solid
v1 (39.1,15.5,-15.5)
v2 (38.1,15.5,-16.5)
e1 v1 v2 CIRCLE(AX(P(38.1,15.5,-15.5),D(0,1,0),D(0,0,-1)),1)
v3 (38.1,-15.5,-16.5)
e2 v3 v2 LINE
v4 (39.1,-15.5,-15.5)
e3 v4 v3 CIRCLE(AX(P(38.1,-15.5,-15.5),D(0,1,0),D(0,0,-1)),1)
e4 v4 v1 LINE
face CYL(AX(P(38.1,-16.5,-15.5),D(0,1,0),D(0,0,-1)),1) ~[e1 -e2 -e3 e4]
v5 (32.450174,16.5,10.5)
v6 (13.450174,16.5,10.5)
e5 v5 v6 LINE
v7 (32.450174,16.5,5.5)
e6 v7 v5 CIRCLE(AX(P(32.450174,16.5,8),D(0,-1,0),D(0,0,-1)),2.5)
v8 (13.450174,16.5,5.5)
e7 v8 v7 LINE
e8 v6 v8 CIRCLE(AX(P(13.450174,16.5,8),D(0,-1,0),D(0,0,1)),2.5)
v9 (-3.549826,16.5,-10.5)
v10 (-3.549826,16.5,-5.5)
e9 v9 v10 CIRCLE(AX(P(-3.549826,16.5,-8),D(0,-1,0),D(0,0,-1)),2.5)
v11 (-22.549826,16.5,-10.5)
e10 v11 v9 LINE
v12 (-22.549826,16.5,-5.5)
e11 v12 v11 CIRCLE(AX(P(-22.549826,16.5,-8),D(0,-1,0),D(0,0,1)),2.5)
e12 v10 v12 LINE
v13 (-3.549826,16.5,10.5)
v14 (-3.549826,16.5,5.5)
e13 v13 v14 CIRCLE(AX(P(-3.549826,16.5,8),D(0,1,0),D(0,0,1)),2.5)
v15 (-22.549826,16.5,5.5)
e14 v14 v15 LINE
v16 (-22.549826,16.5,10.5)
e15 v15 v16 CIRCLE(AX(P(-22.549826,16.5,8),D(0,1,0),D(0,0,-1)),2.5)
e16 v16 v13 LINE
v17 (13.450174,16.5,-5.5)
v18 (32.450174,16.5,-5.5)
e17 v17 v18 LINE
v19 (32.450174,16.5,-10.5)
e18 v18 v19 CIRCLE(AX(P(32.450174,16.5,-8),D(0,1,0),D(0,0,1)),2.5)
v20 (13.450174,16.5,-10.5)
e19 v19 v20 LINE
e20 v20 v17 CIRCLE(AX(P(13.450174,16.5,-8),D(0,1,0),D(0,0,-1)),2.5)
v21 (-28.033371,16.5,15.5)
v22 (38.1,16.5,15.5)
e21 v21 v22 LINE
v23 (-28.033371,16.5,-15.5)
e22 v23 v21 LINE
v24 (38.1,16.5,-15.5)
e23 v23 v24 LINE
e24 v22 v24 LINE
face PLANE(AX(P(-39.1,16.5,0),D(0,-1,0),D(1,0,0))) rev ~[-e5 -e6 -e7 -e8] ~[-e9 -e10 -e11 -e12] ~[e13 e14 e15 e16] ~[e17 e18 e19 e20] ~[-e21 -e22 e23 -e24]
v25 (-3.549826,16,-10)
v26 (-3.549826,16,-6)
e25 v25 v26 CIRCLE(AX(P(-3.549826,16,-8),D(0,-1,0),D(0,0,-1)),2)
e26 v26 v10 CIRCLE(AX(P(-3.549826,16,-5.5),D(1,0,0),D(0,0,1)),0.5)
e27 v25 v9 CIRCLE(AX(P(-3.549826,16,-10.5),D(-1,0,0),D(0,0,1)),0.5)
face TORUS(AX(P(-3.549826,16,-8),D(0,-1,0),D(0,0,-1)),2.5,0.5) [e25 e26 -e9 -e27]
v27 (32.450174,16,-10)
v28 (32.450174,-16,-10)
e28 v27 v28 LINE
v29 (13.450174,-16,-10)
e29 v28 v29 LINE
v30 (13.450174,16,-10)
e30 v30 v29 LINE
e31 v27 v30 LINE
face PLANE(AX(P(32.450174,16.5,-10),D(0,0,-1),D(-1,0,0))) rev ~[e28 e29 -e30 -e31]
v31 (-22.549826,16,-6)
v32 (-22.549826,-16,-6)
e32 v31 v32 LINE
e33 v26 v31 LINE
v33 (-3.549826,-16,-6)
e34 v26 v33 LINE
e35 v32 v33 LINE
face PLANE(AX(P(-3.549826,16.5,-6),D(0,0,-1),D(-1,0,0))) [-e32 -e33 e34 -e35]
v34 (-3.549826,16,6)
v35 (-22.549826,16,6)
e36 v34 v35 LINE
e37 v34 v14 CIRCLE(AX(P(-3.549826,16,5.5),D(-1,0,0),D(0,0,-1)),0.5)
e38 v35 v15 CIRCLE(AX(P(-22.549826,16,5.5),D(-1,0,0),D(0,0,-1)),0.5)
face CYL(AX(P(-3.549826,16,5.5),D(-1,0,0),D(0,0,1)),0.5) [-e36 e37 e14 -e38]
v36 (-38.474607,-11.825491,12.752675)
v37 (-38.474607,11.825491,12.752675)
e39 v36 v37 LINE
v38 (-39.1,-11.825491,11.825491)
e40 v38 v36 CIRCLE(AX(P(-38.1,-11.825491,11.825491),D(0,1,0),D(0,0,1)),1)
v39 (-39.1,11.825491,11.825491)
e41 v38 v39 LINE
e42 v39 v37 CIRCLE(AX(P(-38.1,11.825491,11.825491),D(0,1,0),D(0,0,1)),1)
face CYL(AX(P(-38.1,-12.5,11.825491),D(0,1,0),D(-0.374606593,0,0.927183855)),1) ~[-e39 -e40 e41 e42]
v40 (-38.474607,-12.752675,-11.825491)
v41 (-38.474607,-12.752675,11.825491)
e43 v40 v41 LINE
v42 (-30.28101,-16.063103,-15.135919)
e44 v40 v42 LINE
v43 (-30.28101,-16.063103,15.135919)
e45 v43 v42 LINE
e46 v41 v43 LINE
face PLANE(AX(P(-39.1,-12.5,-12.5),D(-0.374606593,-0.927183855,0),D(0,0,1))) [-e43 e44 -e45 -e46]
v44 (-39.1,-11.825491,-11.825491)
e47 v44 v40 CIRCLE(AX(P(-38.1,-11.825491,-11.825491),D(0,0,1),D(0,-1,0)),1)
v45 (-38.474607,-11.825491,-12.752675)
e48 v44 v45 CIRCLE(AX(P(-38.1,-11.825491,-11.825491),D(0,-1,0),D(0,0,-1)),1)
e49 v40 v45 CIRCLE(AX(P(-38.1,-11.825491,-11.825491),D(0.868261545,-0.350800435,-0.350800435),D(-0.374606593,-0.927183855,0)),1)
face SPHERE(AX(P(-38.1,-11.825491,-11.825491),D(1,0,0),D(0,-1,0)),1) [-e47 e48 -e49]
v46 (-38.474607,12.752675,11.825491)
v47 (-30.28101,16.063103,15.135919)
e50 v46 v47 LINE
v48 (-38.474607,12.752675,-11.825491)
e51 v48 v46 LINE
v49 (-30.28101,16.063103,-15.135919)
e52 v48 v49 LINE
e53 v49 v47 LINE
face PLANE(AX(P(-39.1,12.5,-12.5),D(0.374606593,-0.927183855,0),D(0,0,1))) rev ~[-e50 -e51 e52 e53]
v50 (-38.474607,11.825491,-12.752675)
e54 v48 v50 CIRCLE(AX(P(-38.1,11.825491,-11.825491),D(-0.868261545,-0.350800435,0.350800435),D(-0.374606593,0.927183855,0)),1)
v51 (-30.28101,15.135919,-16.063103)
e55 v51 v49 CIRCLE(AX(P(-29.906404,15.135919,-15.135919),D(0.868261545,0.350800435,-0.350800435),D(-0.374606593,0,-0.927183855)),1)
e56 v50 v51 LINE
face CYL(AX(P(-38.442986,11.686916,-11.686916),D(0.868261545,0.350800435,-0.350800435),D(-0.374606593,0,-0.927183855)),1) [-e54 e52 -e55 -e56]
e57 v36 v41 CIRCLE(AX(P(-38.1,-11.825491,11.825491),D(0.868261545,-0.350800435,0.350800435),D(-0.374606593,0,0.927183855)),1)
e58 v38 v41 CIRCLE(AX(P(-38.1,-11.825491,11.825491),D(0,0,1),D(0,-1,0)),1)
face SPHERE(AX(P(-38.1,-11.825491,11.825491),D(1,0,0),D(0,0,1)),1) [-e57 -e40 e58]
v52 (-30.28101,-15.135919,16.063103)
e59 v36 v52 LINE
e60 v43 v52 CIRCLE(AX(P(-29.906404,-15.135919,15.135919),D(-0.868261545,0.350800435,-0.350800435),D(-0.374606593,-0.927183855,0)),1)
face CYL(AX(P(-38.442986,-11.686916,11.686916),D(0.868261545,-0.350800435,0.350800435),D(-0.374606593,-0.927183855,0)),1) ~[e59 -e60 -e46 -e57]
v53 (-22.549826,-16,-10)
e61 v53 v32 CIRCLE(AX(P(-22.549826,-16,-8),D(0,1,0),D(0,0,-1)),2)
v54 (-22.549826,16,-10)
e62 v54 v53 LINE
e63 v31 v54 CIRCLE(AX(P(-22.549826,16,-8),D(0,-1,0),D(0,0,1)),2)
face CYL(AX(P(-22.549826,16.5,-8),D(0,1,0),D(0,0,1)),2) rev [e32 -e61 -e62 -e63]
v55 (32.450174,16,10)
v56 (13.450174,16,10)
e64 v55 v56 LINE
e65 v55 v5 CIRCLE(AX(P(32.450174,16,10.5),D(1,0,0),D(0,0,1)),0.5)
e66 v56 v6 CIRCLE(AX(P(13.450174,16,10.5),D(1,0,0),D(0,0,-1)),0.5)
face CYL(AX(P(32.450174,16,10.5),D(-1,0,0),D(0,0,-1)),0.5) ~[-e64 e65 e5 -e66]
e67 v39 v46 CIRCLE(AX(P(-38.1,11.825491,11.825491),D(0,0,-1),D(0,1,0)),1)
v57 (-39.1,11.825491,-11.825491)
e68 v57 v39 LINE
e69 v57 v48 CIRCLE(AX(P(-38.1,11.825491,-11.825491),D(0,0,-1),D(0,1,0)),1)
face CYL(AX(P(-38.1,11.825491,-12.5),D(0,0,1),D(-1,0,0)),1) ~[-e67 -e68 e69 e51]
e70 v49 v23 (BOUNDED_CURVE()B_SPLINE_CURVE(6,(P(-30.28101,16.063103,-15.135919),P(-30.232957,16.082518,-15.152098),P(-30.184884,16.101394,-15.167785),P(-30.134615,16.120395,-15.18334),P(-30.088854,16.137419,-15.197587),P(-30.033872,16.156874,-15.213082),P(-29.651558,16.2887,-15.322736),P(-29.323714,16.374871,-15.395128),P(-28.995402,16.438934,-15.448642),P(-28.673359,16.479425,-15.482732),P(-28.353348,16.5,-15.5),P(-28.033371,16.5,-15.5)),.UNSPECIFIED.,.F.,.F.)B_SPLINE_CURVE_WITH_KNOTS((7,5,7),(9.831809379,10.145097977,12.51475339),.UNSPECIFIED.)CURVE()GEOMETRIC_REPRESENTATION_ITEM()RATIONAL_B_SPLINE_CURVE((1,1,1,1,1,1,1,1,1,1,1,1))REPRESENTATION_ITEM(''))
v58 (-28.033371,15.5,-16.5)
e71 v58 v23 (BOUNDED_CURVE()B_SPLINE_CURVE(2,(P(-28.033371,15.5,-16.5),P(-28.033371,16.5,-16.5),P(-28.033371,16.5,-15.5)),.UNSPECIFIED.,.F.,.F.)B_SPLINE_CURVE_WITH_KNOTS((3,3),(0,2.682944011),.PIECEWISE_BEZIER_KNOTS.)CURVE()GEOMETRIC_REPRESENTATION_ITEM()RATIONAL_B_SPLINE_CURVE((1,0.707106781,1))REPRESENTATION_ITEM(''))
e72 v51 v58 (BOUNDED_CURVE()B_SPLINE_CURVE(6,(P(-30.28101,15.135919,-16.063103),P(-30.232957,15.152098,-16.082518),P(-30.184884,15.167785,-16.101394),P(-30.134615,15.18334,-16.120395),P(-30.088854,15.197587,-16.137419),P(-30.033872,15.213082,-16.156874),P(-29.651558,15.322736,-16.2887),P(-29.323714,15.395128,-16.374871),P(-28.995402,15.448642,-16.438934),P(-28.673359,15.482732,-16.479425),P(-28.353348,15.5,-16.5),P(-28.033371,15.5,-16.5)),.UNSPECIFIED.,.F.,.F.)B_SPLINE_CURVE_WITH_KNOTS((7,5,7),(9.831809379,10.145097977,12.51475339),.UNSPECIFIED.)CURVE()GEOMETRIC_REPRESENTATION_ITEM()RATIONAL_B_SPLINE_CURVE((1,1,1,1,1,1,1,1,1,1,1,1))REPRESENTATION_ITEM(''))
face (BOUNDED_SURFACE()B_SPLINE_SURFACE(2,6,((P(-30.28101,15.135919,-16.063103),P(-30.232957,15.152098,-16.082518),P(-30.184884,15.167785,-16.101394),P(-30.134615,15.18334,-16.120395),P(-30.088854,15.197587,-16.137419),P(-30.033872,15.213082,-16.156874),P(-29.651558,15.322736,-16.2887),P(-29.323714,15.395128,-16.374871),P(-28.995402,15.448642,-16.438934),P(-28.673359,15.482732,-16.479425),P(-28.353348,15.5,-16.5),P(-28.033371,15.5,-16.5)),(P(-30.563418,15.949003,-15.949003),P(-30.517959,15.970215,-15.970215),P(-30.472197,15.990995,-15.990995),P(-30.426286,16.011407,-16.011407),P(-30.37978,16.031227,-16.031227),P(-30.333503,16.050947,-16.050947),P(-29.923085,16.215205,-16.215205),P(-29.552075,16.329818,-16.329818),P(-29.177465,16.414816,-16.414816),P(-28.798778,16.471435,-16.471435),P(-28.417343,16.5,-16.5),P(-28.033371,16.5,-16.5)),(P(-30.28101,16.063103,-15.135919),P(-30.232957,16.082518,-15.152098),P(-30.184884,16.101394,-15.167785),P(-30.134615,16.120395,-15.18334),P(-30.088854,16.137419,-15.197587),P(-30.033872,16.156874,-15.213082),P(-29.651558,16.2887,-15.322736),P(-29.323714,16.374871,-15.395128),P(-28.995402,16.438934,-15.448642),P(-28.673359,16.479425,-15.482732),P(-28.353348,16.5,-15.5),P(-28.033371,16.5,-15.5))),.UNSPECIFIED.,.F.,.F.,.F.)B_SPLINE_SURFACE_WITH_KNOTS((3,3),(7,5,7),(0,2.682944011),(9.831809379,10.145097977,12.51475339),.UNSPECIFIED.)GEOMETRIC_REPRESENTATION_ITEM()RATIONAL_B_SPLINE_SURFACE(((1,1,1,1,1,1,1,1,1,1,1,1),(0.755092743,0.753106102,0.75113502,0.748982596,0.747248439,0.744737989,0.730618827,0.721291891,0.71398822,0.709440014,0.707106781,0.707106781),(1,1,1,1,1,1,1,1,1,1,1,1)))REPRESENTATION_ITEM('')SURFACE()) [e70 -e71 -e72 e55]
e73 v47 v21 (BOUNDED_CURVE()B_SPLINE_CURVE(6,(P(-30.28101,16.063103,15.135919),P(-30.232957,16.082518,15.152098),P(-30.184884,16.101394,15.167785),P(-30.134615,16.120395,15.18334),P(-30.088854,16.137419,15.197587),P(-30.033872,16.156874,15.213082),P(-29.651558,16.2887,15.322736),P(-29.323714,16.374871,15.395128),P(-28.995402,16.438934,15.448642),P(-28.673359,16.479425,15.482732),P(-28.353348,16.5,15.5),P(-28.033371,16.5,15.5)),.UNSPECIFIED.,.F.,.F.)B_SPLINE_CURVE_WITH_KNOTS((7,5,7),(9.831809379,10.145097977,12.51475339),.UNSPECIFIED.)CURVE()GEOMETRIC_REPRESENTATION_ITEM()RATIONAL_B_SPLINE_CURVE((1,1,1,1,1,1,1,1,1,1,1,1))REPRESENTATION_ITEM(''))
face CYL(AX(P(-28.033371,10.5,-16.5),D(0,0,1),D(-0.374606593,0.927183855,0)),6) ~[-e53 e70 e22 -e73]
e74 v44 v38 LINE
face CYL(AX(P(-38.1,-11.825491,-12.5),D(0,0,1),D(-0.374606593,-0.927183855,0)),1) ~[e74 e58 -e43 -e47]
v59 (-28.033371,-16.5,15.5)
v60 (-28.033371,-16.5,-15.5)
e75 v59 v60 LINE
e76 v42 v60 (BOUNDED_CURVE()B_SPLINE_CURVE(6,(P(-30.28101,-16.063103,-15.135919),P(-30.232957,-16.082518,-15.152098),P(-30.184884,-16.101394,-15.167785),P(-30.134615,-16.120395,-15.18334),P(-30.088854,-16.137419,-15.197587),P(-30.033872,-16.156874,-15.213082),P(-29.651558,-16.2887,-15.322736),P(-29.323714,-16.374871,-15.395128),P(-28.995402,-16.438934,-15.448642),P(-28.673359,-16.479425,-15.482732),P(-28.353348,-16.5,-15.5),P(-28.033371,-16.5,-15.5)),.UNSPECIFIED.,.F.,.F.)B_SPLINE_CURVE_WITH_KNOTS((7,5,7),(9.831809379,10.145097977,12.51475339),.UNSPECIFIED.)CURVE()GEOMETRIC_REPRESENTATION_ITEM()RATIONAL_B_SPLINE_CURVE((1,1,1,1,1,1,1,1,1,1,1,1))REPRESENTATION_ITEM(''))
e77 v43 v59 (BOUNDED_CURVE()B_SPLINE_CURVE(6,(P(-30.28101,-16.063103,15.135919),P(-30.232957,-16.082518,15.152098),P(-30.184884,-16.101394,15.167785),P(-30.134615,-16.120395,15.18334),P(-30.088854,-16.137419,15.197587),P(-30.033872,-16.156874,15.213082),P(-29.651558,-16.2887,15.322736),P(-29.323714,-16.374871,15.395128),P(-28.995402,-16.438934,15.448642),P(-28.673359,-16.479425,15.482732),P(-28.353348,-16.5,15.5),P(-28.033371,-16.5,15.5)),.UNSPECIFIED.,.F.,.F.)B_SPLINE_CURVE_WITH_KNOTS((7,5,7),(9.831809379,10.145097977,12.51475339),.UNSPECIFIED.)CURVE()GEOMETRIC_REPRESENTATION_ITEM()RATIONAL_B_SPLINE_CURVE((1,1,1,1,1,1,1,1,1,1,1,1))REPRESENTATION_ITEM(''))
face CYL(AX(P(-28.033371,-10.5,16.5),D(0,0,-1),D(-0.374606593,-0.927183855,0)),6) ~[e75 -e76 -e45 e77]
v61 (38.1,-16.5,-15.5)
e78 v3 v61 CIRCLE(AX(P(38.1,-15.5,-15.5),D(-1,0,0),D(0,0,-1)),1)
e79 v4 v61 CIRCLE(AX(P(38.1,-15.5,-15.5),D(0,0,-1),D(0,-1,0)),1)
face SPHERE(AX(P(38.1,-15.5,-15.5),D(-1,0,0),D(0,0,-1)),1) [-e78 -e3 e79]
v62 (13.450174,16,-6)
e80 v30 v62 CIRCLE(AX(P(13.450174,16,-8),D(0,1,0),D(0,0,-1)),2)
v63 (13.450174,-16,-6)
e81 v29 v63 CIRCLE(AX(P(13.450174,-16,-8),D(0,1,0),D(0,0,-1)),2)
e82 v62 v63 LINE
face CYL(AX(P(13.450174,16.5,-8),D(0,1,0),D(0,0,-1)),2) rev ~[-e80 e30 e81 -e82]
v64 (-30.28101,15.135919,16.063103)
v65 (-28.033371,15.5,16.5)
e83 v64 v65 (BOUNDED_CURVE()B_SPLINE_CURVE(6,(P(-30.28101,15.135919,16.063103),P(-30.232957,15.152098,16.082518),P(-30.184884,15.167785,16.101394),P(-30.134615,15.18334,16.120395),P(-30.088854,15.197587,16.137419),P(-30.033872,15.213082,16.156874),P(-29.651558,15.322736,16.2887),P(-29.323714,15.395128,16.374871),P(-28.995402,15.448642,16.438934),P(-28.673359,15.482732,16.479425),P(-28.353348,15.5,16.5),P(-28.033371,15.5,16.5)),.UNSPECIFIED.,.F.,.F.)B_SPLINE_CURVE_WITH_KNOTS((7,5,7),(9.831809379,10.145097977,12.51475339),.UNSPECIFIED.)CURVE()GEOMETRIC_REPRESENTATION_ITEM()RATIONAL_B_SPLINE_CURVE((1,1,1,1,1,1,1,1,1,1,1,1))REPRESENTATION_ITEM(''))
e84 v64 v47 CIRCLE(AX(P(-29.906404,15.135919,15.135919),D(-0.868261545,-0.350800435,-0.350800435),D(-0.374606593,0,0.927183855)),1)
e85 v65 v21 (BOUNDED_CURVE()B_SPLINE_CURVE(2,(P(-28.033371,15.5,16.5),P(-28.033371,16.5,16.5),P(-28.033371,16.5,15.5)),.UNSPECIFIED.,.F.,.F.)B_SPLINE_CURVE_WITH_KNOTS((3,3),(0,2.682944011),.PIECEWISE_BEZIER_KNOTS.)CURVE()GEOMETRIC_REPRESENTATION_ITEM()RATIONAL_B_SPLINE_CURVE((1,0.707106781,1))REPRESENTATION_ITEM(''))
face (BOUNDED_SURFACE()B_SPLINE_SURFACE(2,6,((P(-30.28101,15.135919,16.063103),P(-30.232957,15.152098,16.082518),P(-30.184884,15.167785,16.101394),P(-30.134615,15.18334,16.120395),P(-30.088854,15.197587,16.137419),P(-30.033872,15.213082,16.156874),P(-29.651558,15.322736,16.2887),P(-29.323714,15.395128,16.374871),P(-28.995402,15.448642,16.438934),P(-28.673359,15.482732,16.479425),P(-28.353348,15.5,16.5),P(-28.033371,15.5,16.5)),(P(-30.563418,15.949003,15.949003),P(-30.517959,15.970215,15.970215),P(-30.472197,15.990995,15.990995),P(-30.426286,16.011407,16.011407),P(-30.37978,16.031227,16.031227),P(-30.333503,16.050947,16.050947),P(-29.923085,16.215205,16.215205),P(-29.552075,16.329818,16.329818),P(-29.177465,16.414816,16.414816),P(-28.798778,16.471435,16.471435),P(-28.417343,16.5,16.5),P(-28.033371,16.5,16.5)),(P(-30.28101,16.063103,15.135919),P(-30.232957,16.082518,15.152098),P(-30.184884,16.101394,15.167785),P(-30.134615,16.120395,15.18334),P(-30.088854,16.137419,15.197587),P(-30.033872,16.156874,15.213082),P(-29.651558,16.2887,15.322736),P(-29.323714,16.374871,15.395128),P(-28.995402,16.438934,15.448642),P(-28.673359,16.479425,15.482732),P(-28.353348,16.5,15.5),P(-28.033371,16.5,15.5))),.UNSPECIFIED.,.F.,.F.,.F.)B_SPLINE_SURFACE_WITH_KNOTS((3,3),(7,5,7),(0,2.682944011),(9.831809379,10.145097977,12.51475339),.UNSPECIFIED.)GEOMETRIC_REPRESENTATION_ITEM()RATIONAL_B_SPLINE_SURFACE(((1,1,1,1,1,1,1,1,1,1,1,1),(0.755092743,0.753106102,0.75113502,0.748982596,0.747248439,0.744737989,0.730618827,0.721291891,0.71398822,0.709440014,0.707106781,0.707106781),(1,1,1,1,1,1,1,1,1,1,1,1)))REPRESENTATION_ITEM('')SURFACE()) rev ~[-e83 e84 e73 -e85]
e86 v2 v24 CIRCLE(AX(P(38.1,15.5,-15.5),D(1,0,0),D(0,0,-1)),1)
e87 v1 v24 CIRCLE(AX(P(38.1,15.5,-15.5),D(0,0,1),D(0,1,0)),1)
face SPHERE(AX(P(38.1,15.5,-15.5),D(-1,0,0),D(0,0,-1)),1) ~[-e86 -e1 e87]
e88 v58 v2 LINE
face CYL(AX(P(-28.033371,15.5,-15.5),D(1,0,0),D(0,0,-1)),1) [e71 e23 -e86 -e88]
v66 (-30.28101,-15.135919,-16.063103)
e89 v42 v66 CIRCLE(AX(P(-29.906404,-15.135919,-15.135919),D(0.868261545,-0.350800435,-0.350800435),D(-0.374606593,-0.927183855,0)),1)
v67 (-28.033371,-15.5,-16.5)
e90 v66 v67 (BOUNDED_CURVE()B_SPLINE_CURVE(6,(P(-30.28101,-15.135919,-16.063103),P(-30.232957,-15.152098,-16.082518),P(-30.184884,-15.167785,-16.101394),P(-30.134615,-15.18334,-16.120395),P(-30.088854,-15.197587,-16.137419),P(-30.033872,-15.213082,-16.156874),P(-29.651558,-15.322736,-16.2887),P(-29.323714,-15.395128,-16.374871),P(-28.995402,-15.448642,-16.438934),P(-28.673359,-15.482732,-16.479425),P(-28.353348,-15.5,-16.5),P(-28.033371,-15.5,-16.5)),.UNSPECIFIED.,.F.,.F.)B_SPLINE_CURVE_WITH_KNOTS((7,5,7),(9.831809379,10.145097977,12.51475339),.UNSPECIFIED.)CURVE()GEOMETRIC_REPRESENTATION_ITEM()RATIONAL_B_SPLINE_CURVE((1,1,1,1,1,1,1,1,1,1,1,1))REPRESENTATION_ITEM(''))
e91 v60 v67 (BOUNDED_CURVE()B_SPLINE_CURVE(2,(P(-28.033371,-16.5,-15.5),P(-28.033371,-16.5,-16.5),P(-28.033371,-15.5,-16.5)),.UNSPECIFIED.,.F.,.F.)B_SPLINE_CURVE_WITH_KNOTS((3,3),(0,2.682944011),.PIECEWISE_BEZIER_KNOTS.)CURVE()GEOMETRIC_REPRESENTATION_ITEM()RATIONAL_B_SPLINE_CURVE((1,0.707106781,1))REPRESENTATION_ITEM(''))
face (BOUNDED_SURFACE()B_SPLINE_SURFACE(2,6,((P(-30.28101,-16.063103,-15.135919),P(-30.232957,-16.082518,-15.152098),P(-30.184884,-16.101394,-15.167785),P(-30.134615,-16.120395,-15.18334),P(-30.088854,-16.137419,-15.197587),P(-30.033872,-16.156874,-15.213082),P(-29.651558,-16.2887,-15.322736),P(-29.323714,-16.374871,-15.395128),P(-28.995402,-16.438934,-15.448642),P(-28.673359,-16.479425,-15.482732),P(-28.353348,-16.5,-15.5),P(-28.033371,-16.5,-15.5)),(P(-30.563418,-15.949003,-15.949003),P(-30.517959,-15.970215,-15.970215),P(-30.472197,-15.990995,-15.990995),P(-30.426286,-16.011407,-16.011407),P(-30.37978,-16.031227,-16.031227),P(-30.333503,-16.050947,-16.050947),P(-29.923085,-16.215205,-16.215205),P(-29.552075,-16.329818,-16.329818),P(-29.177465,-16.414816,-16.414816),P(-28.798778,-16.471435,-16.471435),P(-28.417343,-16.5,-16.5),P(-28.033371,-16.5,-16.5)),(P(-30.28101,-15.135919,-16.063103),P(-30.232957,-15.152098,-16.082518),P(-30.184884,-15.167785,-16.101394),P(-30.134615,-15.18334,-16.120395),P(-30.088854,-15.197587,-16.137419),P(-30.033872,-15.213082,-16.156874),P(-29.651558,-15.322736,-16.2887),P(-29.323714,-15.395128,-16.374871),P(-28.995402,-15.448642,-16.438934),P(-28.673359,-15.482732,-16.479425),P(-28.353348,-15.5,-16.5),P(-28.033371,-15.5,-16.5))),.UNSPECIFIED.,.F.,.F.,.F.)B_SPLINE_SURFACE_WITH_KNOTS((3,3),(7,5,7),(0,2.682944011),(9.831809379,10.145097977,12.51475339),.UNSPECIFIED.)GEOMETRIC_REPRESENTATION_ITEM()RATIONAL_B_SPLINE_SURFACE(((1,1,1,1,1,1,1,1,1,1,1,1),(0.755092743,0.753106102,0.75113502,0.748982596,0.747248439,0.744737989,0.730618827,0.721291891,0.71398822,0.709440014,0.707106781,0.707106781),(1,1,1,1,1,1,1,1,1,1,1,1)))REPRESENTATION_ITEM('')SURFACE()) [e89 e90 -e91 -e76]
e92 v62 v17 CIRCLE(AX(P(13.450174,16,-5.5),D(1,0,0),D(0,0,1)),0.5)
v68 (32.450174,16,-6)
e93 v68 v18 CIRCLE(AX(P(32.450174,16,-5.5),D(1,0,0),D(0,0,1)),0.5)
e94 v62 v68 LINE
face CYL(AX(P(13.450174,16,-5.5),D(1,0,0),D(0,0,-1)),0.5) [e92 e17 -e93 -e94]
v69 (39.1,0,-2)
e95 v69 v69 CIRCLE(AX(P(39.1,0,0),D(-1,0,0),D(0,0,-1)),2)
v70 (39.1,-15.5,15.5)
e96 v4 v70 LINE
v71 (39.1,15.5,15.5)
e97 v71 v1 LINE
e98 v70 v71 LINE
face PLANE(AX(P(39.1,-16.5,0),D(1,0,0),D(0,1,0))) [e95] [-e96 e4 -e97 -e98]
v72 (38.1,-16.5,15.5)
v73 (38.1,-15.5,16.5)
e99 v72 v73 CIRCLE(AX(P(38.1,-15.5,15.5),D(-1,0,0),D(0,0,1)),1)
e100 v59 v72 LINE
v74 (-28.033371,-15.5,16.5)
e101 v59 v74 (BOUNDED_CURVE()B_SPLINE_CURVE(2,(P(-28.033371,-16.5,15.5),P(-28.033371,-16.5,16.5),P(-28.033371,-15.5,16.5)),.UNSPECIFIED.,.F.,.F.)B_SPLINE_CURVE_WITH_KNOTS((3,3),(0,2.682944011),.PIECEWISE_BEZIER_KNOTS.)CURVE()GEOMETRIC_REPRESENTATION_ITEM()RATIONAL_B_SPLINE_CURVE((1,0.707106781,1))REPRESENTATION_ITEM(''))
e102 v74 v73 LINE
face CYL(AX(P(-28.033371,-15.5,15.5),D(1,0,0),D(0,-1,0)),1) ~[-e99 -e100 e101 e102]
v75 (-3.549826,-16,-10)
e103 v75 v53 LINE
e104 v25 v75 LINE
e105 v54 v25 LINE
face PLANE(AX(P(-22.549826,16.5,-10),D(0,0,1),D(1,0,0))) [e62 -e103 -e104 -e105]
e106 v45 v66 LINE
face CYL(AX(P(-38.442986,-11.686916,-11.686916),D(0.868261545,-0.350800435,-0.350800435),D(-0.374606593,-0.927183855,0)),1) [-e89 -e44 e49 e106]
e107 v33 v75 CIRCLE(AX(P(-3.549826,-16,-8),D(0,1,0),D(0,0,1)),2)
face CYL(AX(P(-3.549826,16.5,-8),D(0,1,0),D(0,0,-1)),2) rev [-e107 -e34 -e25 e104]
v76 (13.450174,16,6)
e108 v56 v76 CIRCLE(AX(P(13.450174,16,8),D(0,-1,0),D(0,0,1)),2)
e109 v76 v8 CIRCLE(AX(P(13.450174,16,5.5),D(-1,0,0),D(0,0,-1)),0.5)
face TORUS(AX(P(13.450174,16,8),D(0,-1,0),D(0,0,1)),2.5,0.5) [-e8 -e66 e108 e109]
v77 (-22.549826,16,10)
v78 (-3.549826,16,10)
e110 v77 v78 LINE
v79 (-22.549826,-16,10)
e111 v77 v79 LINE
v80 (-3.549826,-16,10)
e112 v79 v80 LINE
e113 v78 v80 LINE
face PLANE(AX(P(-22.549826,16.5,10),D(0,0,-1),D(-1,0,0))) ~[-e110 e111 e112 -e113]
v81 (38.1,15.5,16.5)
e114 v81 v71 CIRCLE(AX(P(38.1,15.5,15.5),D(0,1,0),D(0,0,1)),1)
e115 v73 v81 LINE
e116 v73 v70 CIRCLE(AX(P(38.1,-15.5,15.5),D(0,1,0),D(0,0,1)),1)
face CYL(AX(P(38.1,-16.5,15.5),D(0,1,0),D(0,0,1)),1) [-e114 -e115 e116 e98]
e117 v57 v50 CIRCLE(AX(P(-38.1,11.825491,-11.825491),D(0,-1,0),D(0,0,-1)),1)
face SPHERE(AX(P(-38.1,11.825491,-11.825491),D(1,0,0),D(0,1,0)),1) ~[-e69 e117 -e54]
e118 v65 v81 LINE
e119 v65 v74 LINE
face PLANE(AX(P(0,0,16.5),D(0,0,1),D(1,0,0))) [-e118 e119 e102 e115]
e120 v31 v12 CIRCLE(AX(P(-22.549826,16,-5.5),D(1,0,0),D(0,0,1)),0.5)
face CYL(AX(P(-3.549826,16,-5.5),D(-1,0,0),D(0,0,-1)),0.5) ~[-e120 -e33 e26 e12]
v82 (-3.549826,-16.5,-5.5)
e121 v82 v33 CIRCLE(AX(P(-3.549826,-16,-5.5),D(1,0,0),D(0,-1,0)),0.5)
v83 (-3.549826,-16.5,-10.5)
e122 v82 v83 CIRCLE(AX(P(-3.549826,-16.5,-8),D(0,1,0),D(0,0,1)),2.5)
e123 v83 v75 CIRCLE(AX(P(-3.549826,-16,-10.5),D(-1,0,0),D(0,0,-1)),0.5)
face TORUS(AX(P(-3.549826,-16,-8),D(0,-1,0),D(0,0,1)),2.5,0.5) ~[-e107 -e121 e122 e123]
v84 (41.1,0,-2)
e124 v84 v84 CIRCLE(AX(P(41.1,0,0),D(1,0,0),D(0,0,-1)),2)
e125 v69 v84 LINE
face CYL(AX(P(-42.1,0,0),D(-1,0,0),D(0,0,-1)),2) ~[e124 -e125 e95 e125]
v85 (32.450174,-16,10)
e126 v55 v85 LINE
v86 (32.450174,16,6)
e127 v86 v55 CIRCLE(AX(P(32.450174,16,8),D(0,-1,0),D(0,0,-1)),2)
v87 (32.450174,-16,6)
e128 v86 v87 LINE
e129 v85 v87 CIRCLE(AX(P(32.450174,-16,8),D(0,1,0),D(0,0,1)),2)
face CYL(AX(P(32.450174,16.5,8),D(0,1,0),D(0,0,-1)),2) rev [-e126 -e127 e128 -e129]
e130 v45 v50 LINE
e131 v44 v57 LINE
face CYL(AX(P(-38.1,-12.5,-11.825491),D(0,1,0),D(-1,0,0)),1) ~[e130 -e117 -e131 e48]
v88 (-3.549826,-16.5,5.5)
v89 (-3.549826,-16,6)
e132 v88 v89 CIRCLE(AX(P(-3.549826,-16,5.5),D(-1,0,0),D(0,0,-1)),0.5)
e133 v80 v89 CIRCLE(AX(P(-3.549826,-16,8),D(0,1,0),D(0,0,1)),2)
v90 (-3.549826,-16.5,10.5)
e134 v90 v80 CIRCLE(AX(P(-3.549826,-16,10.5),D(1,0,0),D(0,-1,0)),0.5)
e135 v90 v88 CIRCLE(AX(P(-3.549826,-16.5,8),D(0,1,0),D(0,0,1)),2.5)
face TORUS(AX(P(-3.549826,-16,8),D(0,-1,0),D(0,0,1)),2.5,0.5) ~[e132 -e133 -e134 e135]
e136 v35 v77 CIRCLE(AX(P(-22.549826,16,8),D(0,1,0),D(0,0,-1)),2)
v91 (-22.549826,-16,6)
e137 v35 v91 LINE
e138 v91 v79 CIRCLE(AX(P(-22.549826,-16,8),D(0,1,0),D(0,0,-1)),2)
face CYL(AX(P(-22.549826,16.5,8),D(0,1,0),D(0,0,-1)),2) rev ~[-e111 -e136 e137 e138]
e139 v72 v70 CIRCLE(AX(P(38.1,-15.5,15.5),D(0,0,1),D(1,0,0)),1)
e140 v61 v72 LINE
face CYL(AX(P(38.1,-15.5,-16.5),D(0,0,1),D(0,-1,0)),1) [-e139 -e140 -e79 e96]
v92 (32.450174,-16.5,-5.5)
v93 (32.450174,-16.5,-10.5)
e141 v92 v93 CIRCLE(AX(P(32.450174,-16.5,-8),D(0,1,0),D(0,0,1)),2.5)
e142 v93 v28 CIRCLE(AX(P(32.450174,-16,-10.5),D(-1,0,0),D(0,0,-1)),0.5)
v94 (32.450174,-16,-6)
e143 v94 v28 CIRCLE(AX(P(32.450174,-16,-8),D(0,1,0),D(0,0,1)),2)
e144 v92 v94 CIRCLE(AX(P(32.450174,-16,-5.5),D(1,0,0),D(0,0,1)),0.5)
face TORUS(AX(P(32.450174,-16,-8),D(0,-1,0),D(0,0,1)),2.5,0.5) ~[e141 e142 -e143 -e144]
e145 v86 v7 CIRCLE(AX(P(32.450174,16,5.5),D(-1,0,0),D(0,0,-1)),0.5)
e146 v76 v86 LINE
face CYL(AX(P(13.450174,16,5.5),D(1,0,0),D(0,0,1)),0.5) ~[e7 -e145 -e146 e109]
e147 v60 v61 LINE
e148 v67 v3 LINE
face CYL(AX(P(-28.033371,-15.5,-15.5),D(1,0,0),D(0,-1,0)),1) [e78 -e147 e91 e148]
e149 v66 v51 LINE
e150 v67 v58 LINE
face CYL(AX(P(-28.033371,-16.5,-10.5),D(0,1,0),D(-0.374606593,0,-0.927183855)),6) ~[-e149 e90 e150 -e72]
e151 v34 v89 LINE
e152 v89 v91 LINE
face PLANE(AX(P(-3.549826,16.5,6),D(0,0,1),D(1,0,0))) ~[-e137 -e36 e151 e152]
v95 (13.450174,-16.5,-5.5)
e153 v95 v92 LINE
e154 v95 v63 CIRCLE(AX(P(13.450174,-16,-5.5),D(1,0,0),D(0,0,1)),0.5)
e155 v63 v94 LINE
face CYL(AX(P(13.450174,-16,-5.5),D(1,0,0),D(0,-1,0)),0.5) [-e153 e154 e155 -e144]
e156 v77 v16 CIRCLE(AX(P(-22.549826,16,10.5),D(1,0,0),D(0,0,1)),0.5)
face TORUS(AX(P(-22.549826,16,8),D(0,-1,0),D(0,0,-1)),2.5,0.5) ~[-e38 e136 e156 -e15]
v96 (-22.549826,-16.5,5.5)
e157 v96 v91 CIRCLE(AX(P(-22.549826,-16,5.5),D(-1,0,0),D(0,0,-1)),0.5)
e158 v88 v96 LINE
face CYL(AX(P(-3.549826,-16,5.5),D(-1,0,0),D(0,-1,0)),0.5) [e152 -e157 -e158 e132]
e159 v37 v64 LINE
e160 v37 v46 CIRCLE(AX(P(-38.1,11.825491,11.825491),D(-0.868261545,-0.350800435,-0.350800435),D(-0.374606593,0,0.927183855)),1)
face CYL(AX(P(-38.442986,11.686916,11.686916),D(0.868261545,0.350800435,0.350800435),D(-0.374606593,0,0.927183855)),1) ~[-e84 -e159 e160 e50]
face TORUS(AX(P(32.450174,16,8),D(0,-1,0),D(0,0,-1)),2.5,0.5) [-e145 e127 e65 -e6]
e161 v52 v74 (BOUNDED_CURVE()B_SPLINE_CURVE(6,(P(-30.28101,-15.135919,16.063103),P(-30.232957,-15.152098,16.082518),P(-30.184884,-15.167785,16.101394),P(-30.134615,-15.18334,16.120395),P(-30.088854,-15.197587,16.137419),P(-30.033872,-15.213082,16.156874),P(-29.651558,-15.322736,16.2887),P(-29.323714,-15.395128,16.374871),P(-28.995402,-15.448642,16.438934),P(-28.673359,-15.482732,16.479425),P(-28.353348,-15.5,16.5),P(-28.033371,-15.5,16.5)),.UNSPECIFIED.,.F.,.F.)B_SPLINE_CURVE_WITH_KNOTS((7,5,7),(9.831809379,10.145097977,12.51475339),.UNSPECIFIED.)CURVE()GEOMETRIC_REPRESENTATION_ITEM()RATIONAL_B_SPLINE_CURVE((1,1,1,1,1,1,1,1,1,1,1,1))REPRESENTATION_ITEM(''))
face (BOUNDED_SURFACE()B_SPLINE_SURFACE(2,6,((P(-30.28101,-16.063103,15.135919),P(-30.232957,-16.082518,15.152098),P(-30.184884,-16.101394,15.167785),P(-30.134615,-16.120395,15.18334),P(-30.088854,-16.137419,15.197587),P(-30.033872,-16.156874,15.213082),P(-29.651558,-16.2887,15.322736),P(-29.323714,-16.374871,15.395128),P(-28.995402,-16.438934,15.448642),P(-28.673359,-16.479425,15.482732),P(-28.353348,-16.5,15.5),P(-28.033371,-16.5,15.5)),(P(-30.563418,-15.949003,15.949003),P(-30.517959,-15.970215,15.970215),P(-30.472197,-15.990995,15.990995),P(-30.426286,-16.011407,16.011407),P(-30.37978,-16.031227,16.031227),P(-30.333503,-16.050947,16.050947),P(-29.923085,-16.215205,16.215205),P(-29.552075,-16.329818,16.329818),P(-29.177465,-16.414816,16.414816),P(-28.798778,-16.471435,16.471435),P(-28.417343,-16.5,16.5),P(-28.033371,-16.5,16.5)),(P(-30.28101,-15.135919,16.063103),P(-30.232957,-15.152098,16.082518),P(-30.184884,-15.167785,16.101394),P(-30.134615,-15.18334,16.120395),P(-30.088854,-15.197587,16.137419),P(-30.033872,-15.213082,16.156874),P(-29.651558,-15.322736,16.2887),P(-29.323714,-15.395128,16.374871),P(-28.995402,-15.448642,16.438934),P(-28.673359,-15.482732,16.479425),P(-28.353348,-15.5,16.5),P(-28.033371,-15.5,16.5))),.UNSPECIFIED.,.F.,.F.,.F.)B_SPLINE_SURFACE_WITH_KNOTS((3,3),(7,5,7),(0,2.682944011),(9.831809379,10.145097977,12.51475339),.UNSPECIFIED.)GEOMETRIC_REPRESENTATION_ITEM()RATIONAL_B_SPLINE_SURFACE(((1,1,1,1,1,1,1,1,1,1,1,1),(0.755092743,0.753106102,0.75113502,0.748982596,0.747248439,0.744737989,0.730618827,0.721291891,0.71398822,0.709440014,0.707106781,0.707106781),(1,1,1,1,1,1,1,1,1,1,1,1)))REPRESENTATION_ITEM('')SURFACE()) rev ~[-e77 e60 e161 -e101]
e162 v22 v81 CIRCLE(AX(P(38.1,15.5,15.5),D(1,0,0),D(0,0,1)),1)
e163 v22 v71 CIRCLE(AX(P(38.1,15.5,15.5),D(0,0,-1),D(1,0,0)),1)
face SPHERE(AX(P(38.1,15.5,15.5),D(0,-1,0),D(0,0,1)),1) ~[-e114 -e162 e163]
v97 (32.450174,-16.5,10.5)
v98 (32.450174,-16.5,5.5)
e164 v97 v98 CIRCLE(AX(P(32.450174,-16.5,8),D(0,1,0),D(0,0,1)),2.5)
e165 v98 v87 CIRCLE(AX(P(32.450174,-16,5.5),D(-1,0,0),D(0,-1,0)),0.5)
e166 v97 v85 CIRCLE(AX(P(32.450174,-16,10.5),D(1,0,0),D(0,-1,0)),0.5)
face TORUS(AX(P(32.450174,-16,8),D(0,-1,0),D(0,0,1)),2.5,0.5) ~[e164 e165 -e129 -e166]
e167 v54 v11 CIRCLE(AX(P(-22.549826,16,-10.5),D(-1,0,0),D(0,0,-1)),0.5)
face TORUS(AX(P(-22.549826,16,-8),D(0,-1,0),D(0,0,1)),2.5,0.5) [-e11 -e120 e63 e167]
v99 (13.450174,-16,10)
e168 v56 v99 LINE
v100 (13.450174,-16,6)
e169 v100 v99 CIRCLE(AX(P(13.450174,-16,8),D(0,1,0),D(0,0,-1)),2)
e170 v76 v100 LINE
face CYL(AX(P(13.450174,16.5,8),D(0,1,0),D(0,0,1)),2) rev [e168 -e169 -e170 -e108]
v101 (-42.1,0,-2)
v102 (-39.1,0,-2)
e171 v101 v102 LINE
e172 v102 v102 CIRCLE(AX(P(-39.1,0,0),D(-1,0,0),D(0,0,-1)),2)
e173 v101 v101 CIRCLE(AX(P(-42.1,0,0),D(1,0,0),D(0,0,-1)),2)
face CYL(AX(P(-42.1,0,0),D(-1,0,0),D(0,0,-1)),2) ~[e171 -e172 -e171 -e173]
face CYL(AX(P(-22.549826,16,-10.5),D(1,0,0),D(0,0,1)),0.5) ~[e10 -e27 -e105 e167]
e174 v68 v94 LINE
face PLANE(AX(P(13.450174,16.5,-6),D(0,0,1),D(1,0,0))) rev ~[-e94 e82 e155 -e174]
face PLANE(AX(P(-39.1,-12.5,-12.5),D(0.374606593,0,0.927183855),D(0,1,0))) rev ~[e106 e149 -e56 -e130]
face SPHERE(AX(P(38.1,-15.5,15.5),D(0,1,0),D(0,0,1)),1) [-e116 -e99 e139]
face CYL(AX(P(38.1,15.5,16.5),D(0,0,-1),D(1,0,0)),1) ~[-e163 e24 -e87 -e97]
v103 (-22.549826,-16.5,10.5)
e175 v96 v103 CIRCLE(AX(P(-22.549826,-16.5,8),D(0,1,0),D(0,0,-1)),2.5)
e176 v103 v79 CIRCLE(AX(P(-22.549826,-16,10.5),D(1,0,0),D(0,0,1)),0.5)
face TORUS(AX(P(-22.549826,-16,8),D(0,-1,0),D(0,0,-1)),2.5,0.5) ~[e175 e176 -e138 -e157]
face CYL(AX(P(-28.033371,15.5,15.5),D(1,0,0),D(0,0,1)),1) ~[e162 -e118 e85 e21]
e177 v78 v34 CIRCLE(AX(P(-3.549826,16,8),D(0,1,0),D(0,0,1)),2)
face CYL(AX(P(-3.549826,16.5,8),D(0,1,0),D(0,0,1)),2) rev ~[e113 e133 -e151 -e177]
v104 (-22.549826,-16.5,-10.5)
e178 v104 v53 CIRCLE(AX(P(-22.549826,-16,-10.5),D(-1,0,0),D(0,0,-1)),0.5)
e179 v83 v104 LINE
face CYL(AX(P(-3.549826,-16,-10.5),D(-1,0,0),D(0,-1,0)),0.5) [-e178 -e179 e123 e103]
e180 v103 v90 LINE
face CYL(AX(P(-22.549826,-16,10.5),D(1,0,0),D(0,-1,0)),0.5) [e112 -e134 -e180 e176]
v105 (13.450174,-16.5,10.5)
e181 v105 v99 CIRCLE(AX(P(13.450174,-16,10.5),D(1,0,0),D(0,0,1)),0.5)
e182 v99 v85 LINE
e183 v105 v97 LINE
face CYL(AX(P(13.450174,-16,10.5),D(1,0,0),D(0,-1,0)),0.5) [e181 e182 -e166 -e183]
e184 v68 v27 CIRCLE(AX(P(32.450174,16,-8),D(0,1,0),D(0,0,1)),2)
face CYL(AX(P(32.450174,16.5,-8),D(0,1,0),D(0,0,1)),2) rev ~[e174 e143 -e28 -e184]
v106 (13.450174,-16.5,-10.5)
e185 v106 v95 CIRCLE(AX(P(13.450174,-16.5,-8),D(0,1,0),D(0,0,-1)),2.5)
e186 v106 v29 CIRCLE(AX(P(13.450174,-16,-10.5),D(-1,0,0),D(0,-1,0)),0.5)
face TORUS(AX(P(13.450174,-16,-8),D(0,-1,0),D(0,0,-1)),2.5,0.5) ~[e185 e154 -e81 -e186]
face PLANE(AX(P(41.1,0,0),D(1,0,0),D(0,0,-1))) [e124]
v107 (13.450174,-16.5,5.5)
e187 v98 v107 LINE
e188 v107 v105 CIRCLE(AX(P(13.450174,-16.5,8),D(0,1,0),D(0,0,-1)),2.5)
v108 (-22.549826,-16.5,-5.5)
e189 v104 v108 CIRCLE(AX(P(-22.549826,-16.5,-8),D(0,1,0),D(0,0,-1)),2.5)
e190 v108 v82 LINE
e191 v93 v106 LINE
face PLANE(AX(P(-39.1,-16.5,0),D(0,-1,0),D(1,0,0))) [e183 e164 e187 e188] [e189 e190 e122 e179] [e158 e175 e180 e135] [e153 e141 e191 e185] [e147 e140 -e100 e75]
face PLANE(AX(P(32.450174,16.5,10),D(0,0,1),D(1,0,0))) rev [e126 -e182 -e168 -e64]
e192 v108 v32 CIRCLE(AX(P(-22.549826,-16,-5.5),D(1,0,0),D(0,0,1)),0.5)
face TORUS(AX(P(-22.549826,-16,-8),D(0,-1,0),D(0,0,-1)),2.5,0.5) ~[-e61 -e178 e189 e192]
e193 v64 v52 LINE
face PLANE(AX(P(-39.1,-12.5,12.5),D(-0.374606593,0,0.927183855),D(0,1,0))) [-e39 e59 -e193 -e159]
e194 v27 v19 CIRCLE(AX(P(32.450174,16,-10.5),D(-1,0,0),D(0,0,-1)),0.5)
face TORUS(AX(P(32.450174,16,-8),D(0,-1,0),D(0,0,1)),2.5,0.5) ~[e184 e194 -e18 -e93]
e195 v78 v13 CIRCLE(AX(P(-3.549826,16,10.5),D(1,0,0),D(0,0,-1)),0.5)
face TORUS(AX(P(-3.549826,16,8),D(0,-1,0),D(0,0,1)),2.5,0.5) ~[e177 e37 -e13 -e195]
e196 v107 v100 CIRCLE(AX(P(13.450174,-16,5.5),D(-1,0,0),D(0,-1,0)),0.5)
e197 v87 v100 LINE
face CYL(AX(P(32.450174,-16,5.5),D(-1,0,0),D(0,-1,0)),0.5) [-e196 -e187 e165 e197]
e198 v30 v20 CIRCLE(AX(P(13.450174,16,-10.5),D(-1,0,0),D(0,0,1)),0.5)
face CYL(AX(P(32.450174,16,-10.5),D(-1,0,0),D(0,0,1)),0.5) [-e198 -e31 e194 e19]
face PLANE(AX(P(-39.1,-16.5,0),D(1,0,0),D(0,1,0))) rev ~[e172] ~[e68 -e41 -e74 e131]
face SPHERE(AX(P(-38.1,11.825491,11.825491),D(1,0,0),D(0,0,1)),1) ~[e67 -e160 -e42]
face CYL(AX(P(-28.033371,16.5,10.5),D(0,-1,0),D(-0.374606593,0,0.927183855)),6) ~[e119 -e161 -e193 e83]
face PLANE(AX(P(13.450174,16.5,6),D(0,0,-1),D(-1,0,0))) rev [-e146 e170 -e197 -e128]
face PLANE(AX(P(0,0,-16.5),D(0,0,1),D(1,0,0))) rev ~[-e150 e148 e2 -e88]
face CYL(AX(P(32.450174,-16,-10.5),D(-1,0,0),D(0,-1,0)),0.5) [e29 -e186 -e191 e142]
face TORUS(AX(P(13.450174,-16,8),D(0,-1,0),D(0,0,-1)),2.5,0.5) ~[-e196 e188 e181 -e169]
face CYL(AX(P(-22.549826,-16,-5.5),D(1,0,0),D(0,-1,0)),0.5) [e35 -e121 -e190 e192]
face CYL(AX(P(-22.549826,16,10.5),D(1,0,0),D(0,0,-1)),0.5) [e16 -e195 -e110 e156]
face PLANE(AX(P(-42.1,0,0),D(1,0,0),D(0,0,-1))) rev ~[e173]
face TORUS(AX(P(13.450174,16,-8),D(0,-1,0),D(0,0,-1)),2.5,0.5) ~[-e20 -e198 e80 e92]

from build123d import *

# Parameters (mm, degrees)
SKETCH1_W                = 78.2
SKETCH1_H                = 33
BOSS_EXTRUDE1_DEPTH      = 16.5
SKETCH3_OUTSIDE_W        = 65.334
SKETCH3_OUTSIDE_H        = 65.334
SKETCH3_OUTSIDE_W_2      = 25
SKETCH3_OUTSIDE_H_2      = 25
CUT_EXTRUDE1_DEPTH       = 15
CUT_EXTRUDE1_DRAFT       = -22
CUT_EXTRUDE2_DEPTH       = 54.759278269
BOSS_EXTRUDE2_DEPTH      = 2
BOSS_EXTRUDE2_DEPTH_BACK = 81.2
SKETCH2_R                = 2
FILLET2_R                = 6
FILLET3_R                = 1
FILLET4_R                = 0.5


with BuildPart() as part:
    # Sketch1 → Boss-Extrude1 (new, symmetric)
    with BuildSketch(Plane.XY):
        Rectangle(SKETCH1_W, SKETCH1_H)
    extrude(amount=BOSS_EXTRUDE1_DEPTH, both=True)


with BuildPart() as cut_extrude1_tool:
    # Sketch3 outside → Cut-Extrude1 (with draft: the straight prism first)
    with BuildSketch(Plane.ZY.offset(39.1)):
        Rectangle(SKETCH3_OUTSIDE_W, SKETCH3_OUTSIDE_H)
        Rectangle(SKETCH3_OUTSIDE_W_2, SKETCH3_OUTSIDE_H_2, mode=Mode.SUBTRACT)
    extrude(amount=-CUT_EXTRUDE1_DEPTH)
    # Cut-Extrude1: the draft: its side faces are tilted about the plane it starts from
    cut_extrude1_sides = [cut_extrude1_tool.faces().sort_by_distance(p)[0] for p in [
        (-31.6, -32.667, 0),
        (-31.6, 0, 32.667),
        (-31.6, 32.667, 0),
        (-31.6, 0, -32.667),
        (-31.6, -12.5, 0),
        (-31.6, 0, -12.5),
        (-31.6, 12.5, 0),
        (-31.6, 0, 12.5),
    ]]
    draft(cut_extrude1_sides, Plane.ZY.offset(39.1), CUT_EXTRUDE1_DRAFT)


with BuildPart() as part_1:
    add(part.part)

    # Cut-Extrude1: cut by cut_extrude1_tool
    add(cut_extrude1_tool.part, mode=Mode.SUBTRACT)

    # Sketch4 → Cut-Extrude2 (cut, through all)
    with BuildSketch(Plane(origin=(0, 16.5, 0), x_dir=(1, 0, 0), z_dir=(0, 1, 0))):
        with BuildLine():
            Line((-22.549826293, 10), (-3.549826293, 10))
            ThreePointArc((-3.549826293, 10), (-1.549826293, 8), (-3.549826293, 6))
            Line((-3.549826293, 6), (-22.549826293, 6))
            ThreePointArc((-22.549826293, 6), (-24.549826293, 8), (-22.549826293, 10))
        make_face()
        with BuildLine():
            Line((32.450173707, 10), (13.450173707, 10))
            ThreePointArc((13.450173707, 10), (11.450173707, 8), (13.450173707, 6))
            Line((13.450173707, 6), (32.450173707, 6))
            ThreePointArc((32.450173707, 6), (34.450173707, 8), (32.450173707, 10))
        make_face()
    cut_extrude2 = extrude(amount=-CUT_EXTRUDE2_DEPTH, mode=Mode.SUBTRACT)

    # Sketch2 → Boss-Extrude2 (add, two sides: drawn at the far end of the back side and taken through both)
    with BuildSketch(Plane(origin=(39.1, 0, 0), x_dir=(0, 0, -1), z_dir=(1, 0, 0)).offset(-BOSS_EXTRUDE2_DEPTH_BACK)):
        Circle(SKETCH2_R)
    extrude(amount=BOSS_EXTRUDE2_DEPTH + BOSS_EXTRUDE2_DEPTH_BACK)

    # Mirror1: Cut-Extrude2 across plane
    add(cut_extrude2.mirror(Plane.XY), mode=Mode.SUBTRACT)

    # Fillet2
    fillet2_edges = [part_1.edges().sort_by_distance(p)[0] for p in [
        (-29.199652586, 0, -16.5),
        (-29.199652586, 0, 16.5),
        (-29.199652586, -16.5, 0),
        (-29.199652586, 16.5, 0),
    ]]
    fillet(fillet2_edges, radius=FILLET2_R)

    # Fillet3
    fillet3_edges = [part_1.edges().sort_by_distance(p)[0] for p in [
        (39.1, 0, 16.5),
        (-34.690505146, 14.281551564, 14.281551564),
        (-34.690505146, -14.281551564, 14.281551564),
        (5.533314634, -16.5, 16.5),
        (-34.690505146, 14.281551564, -14.281551564),
        (5.533314634, -16.5, -16.5),
        (-34.690505146, -14.281551564, -14.281551564),
        (-29.197439664, -16.385995542, -16.385995542),
        (-29.197439664, 16.385995542, -16.385995542),
        (-29.197439664, -16.385995542, 16.385995542),
        (-29.197439664, 16.385995542, 16.385995542),
        (5.533314634, 16.5, 16.5),
        (-39.1, 0, 12.5),
        (-39.1, -12.5, 0),
        (-39.1, 12.5, 0),
        (-39.1, 0, -12.5),
        (5.533314634, 16.5, -16.5),
        (39.1, 0, -16.5),
        (39.1, 16.5, 0),
        (39.1, -16.5, 0),
    ]]
    fillet(fillet3_edges, radius=FILLET3_R)

    # Fillet4
    fillet4_edges = [part_1.edges().sort_by_distance(p)[0] for p in [
        (22.950173707, -16.5, 6),
        (-24.549826293, -16.5, -8),
        (-13.049826293, -16.5, -10),
        (-1.549826293, -16.5, -8),
        (-13.049826293, -16.5, -6),
        (-24.549826293, 16.5, -8),
        (-13.049826293, 16.5, -6),
        (-1.549826293, 16.5, -8),
        (-13.049826293, 16.5, -10),
        (34.450173707, -16.5, -8),
        (22.950173707, -16.5, -6),
        (11.450173707, -16.5, -8),
        (22.950173707, -16.5, -10),
        (34.450173707, 16.5, -8),
        (22.950173707, 16.5, -10),
        (11.450173707, 16.5, -8),
        (22.950173707, 16.5, -6),
        (-24.549826293, 16.5, 8),
        (-13.049826293, 16.5, 6),
        (-1.549826293, 16.5, 8),
        (-13.049826293, 16.5, 10),
        (-24.549826293, -16.5, 8),
        (-13.049826293, -16.5, 6),
        (-1.549826293, -16.5, 8),
        (-13.049826293, -16.5, 10),
        (34.450173707, 16.5, 8),
        (22.950173707, 16.5, 10),
        (11.450173707, 16.5, 8),
        (22.950173707, 16.5, 6),
        (34.450173707, -16.5, 8),
        (22.950173707, -16.5, 10),
        (11.450173707, -16.5, 8),
    ]]
    fillet(fillet4_edges, radius=FILLET4_R)


solid = part_1.part
